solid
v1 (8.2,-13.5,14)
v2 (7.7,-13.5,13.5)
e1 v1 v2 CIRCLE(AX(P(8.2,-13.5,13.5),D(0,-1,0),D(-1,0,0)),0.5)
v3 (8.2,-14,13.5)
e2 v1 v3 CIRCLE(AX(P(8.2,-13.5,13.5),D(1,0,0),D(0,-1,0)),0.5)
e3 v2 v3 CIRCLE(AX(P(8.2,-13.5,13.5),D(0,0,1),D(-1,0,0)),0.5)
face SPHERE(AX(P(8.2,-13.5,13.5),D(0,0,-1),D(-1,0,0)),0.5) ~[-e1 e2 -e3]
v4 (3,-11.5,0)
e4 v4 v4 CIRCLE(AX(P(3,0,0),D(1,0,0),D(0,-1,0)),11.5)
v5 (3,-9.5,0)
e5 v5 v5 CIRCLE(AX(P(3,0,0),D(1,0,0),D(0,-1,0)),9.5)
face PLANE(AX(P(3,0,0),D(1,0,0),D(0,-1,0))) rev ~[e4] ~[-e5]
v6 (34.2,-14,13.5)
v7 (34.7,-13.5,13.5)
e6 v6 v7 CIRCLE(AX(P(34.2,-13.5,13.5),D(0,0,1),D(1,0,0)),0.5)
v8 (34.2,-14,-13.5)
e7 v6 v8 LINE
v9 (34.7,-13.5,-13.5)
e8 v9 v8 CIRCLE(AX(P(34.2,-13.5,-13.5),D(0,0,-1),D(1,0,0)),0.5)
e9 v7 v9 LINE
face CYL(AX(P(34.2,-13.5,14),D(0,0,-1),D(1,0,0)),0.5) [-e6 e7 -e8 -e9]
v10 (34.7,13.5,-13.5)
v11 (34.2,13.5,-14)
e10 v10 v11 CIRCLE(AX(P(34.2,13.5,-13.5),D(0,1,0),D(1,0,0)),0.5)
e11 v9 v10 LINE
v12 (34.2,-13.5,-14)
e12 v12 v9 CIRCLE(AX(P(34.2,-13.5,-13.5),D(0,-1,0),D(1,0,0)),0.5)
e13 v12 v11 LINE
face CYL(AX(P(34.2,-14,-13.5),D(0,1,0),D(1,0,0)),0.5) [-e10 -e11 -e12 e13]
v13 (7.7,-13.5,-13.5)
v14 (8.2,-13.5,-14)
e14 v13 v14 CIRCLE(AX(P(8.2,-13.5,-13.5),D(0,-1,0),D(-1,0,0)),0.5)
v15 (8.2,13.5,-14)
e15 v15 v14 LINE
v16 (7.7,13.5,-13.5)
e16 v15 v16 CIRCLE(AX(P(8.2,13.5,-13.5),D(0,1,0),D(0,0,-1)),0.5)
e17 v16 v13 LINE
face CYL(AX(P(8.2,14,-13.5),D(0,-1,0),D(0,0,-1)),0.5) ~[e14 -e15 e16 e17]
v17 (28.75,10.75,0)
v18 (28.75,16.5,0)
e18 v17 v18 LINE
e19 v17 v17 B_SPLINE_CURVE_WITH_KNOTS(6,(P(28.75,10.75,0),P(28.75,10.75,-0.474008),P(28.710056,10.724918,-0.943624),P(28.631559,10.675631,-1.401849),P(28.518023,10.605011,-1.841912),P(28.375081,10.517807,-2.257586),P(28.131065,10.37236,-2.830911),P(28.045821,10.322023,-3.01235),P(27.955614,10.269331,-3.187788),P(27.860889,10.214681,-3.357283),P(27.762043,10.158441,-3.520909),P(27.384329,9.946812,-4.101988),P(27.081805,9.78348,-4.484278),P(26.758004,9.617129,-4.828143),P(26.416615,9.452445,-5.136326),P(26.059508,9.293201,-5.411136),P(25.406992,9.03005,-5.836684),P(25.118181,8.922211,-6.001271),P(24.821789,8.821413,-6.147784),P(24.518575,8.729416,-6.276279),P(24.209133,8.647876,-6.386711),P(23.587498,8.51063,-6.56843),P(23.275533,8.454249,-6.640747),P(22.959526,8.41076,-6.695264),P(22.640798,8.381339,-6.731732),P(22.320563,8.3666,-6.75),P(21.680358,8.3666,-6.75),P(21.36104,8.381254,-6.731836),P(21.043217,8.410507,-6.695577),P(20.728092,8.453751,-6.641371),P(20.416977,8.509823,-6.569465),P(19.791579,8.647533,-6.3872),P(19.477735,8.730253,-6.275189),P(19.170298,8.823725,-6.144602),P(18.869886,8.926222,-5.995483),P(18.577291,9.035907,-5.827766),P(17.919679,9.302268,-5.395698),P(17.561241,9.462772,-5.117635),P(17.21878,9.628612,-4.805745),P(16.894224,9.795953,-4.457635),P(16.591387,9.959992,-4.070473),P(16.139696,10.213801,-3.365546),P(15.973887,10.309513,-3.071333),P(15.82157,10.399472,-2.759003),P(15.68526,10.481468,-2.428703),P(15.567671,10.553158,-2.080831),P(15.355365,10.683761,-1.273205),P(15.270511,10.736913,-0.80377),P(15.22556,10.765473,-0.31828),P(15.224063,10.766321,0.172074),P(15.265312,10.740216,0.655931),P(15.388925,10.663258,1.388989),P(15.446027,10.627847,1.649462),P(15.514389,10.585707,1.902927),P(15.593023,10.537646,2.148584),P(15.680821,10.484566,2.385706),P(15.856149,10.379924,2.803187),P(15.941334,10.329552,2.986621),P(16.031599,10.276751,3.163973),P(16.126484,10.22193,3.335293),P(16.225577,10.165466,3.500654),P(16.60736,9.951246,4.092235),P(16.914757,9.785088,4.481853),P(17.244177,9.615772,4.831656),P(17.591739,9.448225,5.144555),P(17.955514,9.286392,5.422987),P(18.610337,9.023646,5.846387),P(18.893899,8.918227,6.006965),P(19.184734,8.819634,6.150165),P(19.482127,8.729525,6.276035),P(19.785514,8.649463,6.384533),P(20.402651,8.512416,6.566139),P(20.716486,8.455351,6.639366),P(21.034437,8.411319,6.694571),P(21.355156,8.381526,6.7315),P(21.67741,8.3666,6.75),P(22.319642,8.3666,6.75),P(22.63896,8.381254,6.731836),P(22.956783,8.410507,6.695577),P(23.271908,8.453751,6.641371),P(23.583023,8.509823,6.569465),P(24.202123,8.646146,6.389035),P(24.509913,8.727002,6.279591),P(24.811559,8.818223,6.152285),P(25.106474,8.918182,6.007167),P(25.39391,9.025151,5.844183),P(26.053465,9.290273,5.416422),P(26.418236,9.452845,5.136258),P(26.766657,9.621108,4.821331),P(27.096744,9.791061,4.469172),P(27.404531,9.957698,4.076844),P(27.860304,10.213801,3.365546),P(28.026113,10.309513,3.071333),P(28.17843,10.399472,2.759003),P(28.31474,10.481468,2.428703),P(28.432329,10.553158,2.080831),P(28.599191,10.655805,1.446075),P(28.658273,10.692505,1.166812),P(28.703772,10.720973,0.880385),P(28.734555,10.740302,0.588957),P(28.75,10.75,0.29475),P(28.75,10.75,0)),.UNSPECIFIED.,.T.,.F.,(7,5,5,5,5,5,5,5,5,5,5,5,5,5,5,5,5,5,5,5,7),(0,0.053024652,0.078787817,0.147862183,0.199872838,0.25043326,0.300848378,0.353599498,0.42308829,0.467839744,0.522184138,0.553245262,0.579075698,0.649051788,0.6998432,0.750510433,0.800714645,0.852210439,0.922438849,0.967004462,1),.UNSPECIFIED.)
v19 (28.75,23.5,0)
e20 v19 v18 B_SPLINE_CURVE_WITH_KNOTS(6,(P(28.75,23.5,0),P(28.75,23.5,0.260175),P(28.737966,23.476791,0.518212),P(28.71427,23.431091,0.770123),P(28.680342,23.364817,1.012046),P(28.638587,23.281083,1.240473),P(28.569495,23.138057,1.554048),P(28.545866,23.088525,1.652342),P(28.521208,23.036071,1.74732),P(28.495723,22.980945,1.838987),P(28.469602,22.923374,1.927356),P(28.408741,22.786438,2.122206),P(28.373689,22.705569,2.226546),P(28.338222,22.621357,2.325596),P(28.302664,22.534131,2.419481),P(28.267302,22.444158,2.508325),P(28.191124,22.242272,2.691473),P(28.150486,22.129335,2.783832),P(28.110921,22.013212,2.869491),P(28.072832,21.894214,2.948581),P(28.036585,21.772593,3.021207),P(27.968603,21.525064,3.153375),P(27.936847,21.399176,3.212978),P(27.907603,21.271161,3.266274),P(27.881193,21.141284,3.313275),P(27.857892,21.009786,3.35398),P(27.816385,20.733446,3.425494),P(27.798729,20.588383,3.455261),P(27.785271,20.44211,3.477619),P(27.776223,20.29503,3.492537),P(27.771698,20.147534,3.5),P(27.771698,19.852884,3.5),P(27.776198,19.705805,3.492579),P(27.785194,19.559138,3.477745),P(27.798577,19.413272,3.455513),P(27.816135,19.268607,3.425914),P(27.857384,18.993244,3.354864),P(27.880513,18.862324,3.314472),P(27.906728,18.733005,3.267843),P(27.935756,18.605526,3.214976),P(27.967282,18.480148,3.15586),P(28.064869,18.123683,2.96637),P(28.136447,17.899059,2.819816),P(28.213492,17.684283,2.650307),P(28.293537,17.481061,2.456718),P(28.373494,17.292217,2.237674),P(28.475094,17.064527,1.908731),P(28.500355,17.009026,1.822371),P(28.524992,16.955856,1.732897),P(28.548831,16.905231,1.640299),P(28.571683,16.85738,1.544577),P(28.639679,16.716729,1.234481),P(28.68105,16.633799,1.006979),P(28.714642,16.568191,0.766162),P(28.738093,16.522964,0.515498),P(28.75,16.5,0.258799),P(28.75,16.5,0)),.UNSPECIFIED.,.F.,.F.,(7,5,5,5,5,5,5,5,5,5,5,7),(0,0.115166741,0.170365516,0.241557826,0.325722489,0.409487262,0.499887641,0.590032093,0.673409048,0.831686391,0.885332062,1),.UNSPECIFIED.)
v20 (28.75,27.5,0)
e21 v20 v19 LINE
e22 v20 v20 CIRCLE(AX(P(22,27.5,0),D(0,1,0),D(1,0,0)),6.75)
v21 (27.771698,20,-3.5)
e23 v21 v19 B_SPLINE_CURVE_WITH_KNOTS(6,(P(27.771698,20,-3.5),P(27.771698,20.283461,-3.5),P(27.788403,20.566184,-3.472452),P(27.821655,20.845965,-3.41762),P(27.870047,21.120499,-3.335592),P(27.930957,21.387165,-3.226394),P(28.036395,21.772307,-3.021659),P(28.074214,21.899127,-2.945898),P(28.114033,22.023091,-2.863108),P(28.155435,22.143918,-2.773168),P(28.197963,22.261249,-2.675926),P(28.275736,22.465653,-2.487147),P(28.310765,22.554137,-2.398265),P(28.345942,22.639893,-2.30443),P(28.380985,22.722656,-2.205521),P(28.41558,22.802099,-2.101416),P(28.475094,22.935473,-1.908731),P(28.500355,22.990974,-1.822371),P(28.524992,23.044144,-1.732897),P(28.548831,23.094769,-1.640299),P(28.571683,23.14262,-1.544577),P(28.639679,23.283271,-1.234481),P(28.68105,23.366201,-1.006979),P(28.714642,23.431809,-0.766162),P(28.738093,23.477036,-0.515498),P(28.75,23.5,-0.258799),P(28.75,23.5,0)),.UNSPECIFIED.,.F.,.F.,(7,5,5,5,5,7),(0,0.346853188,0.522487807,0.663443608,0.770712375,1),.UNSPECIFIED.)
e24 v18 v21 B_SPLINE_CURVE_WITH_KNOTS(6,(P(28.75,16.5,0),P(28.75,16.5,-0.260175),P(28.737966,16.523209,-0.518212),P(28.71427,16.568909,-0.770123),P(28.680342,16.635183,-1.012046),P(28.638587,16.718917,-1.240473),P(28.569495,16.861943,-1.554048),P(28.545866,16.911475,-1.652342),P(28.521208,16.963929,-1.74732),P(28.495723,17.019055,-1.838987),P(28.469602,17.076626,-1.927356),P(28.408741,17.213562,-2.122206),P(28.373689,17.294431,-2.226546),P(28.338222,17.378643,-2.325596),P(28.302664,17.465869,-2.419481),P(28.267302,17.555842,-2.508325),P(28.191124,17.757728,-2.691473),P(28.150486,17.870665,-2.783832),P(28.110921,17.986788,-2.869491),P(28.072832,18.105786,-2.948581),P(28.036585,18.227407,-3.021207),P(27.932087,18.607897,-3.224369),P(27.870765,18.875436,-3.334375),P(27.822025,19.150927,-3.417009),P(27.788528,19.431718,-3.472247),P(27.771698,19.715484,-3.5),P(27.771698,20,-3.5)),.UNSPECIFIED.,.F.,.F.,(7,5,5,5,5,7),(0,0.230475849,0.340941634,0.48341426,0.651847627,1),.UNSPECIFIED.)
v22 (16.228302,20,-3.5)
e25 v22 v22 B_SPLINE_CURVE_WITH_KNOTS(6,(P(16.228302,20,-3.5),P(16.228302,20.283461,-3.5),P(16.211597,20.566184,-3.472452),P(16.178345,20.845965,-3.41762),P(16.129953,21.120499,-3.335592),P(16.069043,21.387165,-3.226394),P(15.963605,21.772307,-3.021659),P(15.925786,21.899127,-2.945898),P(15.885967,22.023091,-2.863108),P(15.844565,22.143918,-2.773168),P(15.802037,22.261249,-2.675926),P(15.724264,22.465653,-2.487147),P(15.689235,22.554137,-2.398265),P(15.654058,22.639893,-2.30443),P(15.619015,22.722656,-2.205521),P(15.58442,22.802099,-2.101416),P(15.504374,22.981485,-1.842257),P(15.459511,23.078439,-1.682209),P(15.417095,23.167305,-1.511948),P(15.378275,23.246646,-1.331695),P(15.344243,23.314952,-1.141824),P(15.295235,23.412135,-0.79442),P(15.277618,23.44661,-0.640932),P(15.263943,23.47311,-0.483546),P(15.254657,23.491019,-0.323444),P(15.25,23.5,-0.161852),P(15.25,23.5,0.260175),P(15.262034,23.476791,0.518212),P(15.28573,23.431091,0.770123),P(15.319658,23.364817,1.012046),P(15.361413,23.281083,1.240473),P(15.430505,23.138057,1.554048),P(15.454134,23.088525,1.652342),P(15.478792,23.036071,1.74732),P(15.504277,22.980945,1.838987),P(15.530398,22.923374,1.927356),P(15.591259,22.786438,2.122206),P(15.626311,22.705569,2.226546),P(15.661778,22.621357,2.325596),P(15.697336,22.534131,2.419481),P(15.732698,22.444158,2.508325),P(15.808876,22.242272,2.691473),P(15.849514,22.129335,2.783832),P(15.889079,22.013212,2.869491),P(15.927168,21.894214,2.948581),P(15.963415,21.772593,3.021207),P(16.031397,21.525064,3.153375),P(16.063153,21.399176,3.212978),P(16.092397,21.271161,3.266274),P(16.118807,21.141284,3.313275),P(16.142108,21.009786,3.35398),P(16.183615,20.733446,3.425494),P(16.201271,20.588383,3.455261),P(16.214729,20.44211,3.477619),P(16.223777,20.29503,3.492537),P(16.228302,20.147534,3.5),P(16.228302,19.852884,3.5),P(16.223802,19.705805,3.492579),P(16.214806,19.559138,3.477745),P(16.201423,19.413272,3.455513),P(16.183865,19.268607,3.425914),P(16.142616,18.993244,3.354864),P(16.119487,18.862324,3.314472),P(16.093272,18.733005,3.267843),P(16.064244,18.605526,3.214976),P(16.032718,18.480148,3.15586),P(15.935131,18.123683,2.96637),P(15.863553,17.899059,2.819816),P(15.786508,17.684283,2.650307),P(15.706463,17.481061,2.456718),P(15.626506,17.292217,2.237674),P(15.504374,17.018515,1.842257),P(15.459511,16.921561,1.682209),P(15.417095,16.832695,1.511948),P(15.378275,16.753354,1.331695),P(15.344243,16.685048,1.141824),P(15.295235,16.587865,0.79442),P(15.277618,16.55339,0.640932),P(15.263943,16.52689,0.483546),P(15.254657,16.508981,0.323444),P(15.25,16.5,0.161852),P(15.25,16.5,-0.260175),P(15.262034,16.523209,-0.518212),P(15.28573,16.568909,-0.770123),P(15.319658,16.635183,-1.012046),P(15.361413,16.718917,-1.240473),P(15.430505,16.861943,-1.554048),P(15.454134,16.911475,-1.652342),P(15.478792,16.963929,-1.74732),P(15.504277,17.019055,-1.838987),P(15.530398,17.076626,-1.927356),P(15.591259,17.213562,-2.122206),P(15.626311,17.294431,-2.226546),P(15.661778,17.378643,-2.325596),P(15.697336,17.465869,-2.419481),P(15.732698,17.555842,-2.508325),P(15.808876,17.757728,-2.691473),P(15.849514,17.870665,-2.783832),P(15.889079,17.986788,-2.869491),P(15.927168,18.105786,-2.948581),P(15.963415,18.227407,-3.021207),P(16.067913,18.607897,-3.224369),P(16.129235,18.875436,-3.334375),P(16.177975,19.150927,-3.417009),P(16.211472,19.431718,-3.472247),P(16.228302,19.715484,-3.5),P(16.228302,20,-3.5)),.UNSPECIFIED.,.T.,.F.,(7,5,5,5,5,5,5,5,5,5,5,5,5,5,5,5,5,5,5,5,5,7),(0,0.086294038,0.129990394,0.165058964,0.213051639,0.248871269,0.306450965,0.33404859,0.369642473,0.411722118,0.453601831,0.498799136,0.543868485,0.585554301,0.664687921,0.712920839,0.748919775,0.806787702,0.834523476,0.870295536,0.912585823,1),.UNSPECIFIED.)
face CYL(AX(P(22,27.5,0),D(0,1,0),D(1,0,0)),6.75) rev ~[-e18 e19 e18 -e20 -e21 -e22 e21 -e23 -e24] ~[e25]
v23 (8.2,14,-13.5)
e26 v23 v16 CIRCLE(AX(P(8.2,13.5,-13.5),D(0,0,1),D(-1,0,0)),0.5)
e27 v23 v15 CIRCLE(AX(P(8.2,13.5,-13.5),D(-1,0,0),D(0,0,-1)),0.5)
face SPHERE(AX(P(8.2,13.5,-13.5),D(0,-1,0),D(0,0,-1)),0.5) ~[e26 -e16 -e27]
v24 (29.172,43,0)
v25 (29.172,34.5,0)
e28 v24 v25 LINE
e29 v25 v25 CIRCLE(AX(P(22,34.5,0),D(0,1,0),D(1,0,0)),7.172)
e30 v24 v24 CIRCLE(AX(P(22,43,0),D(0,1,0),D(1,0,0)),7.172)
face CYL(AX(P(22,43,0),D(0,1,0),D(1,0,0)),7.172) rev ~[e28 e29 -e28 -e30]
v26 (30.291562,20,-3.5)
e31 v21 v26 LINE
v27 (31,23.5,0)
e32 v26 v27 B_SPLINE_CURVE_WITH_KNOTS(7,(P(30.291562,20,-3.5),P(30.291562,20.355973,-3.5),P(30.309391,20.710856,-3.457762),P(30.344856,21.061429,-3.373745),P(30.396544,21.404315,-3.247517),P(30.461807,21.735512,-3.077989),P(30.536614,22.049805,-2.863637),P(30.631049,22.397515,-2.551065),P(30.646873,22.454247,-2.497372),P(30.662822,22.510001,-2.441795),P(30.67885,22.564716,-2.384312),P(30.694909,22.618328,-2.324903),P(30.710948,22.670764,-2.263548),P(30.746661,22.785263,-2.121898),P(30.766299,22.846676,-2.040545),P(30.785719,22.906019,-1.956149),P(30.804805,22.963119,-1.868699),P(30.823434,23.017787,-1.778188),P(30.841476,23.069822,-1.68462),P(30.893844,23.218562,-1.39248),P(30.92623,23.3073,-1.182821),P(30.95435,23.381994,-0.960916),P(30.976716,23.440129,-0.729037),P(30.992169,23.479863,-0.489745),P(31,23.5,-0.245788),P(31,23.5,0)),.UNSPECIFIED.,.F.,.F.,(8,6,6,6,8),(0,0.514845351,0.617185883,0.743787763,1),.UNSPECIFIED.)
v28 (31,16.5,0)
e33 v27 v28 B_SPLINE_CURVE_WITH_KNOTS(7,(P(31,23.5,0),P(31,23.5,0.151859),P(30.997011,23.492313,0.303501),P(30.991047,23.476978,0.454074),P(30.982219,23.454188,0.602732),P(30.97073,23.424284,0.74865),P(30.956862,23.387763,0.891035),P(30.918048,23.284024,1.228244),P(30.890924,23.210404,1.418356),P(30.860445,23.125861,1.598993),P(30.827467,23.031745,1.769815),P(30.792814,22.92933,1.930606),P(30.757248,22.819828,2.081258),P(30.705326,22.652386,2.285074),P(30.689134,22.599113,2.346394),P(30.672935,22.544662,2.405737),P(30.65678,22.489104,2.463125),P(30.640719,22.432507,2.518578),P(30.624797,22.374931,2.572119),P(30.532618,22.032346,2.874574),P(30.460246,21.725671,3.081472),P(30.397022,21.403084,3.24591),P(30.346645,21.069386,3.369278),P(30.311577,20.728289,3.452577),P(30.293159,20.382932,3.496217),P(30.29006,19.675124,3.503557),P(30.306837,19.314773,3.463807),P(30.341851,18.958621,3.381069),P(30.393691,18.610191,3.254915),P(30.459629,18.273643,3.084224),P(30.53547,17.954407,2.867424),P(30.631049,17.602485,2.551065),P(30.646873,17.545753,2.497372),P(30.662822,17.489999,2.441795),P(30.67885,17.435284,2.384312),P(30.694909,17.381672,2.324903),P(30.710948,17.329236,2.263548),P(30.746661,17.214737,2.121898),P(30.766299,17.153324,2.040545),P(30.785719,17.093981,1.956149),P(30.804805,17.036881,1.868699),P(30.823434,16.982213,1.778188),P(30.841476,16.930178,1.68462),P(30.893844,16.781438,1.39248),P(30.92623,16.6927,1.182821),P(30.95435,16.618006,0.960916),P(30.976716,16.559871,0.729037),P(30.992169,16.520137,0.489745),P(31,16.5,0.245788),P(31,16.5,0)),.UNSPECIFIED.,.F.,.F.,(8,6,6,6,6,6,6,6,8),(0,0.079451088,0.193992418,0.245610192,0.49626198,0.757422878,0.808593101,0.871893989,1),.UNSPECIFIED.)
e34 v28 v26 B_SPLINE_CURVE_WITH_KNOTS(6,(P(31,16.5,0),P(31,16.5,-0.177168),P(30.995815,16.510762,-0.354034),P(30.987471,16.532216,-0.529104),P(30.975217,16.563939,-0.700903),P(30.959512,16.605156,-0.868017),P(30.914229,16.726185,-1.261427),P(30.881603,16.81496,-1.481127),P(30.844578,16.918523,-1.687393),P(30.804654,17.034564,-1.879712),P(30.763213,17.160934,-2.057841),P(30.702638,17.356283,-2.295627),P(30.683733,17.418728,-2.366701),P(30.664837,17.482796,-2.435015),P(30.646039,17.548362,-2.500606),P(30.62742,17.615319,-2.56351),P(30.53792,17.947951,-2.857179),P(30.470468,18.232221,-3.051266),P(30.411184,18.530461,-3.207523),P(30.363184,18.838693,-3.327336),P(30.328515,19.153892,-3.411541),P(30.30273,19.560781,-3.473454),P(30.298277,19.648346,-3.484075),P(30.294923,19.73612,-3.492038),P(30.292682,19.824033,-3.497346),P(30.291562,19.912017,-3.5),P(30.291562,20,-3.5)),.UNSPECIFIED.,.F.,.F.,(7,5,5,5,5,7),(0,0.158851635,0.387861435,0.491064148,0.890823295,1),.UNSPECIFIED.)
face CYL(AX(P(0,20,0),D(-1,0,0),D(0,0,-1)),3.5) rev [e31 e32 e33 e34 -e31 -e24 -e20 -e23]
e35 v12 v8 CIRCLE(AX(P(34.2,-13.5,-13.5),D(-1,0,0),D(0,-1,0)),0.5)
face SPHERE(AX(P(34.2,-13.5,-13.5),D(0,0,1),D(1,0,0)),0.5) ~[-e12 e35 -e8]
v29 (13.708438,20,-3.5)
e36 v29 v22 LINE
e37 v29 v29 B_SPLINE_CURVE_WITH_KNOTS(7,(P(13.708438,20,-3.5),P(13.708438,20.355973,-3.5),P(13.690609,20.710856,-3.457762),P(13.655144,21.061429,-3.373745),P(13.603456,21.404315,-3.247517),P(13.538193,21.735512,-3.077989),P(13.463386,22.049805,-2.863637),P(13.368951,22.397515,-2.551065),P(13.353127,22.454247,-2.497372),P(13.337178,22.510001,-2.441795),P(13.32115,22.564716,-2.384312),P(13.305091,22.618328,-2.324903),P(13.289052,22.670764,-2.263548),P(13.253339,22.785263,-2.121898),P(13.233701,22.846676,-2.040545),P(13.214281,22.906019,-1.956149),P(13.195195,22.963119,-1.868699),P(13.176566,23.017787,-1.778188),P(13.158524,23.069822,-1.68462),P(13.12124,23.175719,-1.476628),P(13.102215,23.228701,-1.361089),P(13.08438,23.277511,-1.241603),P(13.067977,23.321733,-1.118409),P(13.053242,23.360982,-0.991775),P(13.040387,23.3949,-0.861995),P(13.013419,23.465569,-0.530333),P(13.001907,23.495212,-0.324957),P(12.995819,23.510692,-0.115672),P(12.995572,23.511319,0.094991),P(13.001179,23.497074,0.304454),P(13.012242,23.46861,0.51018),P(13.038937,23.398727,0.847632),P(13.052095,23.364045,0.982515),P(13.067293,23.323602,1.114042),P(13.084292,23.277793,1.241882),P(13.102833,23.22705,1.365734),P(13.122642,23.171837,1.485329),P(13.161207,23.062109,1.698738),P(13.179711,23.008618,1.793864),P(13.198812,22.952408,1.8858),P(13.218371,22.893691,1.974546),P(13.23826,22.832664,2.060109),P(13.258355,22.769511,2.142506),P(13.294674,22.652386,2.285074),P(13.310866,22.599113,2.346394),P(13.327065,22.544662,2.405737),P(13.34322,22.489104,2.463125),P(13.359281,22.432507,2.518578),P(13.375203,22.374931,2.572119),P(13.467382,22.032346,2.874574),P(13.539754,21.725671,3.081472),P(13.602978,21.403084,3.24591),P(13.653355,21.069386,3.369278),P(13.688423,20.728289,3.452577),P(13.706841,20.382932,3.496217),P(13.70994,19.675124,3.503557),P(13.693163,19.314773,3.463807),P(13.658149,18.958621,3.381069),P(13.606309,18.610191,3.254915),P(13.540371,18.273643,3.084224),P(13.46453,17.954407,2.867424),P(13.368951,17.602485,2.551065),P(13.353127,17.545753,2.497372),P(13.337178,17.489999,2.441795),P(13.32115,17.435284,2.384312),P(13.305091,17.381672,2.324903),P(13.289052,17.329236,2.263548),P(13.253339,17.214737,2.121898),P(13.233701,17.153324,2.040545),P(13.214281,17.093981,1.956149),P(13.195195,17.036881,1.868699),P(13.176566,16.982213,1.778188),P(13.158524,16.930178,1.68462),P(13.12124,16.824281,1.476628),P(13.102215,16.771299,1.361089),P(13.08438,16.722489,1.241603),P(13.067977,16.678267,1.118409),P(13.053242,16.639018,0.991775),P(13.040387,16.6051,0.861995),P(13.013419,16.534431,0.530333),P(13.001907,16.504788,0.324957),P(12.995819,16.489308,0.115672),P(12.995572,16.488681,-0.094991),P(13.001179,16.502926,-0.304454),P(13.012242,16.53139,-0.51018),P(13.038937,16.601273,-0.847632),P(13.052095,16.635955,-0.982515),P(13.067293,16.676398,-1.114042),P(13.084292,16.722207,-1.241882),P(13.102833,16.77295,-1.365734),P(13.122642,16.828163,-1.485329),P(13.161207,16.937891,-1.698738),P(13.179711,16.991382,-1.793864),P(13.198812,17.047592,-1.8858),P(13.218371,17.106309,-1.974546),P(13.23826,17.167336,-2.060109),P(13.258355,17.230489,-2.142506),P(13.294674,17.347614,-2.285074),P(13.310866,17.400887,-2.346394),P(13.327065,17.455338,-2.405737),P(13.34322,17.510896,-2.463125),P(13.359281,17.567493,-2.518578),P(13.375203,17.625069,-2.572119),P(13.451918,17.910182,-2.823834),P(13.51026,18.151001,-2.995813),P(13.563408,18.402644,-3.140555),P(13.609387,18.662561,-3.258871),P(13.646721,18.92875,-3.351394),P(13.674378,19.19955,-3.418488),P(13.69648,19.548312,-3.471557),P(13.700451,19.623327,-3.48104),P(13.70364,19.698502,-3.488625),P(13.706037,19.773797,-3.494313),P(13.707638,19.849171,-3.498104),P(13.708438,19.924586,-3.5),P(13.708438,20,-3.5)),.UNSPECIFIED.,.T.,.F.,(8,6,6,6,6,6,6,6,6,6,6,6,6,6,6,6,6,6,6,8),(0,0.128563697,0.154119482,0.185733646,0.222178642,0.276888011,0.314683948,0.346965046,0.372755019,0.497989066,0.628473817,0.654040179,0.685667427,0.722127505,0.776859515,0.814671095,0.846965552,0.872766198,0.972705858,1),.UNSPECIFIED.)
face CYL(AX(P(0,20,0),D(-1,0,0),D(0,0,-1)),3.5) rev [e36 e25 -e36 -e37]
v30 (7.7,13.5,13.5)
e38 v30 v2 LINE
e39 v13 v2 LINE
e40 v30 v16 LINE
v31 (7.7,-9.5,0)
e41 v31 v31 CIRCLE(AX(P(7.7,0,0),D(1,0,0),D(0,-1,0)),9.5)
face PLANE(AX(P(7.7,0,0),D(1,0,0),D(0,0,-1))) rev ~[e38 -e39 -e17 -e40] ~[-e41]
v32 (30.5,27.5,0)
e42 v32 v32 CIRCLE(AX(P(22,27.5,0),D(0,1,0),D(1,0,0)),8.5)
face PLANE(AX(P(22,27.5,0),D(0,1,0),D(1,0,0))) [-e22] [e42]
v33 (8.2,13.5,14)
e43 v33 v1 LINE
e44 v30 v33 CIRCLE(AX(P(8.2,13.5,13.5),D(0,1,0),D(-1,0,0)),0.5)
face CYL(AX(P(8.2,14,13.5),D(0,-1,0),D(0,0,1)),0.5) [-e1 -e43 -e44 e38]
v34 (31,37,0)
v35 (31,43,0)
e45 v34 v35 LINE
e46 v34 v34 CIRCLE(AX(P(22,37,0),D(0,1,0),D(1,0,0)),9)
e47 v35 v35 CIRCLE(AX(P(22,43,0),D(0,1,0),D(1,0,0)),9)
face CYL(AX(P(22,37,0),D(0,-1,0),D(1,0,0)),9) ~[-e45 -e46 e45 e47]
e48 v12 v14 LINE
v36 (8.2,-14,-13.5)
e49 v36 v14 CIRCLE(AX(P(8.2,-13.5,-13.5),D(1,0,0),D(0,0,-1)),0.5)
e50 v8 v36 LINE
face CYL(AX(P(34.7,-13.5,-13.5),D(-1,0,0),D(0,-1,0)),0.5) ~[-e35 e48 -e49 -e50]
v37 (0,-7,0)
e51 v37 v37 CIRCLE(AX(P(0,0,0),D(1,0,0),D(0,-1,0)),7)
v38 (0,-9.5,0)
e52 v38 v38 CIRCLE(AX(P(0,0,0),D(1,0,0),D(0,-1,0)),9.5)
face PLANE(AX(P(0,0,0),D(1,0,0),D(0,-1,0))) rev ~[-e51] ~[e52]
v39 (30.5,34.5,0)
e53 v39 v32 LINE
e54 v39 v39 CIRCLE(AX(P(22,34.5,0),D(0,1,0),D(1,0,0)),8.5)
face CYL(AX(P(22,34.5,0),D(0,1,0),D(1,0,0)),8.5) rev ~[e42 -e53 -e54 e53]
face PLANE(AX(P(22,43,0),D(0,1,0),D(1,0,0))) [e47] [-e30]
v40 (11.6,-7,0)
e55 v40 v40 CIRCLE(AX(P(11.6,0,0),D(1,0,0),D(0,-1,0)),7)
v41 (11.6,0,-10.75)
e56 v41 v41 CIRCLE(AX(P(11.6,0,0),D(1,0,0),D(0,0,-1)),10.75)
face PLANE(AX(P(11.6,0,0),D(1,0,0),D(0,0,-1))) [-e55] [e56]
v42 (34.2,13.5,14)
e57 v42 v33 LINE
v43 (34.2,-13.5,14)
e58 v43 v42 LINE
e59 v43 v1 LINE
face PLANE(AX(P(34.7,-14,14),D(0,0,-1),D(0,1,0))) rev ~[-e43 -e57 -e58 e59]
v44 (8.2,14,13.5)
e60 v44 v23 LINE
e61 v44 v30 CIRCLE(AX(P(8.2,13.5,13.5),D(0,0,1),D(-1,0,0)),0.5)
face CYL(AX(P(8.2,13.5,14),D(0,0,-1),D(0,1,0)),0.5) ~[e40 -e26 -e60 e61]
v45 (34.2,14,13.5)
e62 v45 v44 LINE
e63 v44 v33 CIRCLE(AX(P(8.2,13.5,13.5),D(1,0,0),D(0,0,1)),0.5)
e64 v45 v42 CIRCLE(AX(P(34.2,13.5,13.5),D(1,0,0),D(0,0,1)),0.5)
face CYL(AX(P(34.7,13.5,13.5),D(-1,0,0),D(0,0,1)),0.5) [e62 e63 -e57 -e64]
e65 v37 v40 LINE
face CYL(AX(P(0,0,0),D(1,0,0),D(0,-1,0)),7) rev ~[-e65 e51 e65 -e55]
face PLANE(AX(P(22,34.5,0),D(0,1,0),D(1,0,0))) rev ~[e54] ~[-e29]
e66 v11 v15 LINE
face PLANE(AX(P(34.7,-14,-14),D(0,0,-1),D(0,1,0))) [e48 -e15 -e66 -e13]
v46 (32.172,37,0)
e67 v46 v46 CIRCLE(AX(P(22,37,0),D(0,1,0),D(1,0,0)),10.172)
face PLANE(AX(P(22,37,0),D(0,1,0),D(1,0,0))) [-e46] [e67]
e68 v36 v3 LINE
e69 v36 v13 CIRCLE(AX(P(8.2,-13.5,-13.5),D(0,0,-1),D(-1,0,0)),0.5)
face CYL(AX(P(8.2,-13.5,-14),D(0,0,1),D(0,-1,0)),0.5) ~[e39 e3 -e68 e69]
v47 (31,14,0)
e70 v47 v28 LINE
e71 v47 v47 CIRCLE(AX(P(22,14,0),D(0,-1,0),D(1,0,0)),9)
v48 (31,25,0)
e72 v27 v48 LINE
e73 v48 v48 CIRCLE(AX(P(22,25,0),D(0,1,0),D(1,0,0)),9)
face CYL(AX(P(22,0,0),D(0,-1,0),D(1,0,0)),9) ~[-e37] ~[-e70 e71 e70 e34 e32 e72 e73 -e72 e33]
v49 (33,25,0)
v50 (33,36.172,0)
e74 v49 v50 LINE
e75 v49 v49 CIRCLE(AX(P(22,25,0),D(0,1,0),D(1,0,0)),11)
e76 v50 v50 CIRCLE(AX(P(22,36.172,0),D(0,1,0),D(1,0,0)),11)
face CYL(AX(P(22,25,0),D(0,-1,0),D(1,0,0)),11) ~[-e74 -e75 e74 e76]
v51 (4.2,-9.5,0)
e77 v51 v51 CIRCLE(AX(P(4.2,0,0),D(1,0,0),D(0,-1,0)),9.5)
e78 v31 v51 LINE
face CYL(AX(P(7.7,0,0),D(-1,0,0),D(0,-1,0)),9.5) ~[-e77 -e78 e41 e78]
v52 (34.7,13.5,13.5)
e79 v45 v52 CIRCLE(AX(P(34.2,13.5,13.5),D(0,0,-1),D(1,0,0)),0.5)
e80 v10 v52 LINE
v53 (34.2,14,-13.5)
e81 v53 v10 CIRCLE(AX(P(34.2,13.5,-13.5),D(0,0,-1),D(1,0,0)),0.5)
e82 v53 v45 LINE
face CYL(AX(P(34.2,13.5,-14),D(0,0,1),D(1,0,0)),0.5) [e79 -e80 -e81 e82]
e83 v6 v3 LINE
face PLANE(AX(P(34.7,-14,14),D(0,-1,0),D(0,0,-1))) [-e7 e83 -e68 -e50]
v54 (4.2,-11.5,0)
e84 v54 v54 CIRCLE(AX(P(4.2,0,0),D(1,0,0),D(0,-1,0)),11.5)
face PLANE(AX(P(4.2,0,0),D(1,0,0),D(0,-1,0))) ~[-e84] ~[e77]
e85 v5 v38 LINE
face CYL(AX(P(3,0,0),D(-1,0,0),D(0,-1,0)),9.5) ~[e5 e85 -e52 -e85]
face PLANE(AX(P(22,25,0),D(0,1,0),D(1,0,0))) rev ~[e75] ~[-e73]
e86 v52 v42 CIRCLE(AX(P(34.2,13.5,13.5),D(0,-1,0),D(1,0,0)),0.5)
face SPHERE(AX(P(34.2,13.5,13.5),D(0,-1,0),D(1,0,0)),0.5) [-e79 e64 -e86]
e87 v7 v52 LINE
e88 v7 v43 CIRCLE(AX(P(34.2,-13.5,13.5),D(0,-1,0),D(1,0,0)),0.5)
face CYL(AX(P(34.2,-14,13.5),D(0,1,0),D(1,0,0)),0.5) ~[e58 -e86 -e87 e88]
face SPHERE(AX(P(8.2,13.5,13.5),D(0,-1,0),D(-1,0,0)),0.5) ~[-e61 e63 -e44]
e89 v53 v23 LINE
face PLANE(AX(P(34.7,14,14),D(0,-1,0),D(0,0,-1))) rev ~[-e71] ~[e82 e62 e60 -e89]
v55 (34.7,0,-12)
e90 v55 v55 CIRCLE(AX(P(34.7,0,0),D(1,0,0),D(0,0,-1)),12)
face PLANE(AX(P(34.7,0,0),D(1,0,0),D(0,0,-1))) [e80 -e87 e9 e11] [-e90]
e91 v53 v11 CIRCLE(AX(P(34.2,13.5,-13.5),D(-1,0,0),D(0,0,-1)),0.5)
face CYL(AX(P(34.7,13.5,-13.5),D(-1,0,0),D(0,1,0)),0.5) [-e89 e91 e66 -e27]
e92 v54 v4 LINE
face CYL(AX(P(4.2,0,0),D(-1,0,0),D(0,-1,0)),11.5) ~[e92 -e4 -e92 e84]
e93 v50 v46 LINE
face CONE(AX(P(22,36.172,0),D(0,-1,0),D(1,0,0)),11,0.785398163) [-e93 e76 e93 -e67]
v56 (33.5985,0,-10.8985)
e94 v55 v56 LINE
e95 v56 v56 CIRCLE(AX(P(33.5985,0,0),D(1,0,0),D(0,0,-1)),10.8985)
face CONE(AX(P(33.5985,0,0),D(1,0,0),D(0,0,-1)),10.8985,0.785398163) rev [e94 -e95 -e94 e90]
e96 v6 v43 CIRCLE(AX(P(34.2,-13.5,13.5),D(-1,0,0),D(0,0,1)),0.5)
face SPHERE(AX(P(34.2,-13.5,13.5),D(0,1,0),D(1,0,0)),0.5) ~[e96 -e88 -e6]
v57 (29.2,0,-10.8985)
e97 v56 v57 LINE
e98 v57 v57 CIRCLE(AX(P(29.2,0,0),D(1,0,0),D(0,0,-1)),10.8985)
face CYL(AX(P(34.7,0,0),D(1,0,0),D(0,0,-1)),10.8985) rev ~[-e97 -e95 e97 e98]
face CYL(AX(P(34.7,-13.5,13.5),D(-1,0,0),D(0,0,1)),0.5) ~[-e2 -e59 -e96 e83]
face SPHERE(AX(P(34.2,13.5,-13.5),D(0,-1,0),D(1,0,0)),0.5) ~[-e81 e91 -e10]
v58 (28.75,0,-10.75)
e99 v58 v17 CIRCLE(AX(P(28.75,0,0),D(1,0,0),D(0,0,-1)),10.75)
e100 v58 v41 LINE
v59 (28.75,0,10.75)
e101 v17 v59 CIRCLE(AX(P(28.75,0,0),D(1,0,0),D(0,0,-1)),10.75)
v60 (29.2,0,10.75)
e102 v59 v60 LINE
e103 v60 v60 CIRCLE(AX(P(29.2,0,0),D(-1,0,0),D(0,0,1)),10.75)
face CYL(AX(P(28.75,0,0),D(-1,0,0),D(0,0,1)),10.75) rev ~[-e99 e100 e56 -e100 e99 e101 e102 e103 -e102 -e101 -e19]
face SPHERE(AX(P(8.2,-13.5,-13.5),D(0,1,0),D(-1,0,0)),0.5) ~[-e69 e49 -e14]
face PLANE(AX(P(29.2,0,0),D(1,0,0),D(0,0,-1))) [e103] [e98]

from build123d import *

# Parameters (mm, degrees)
SKETCH_2_R           = 9
EXTRUDE_1_DEPTH      = 25
SKETCH_3_R           = 11
EXTRUDE_2_DEPTH      = 12
SKETCH_4_R           = 9
EXTRUDE_3_DEPTH      = 6
SKETCH_5_R           = 10.75
CUT_EXTRUDE_1_DEPTH  = 23.1
CUT_EXTRUDE_START    = -8.5
SKETCH_6_R           = 8.5
CUT_EXTRUDE_2_DEPTH  = 7
CUT_EXTRUDE_3_REACH  = 43.5
SKETCH_8_R           = 6.75
SKETCH_9_R           = 3.5
CUT_EXTRUDE_4_DEPTH  = 35.7000001
SKETCH_10_R          = 10.75
EXTRUDE_4_DEPTH      = 5.95
CHAMFER_1_SIZE       = 0.828
SKETCH_12_W          = 28
SKETCH_12_H          = 28
SKETCH_12_R          = 13
EXTRUDE_5_DEPTH      = 27
CUT_EXTRUDE_5_REACH  = 30
SKETCH_13_R          = 6.75
CUT_EXTRUDE_6_REACH  = 59
SKETCH_14_R          = 7.172
SKETCH_16_R          = 10.8985
CUT_EXTRUDE_7_DEPTH  = 5.5
CHAMFER_3_SIZE       = 1.1015
CUT_EXTRUDE_11_REACH = 7.95
SKETCH_18_R          = 10.75
FILLET_1_R           = 0.5


with BuildPart() as part:
    # Эскиз1 → Повернуть1 (revolve)
    with BuildSketch(Plane.XY):
        Polygon((0, -7), (11.6, -7), (11.6, 0), (34.7, 0), (34.7, -10.5), (34.7, -14), (7.7, -14), (7.7, -9.5), (4.2, -9.5), (4.2, -11.5), (3, -11.5), (3, -9.5), (0, -9.5), align=None)
    revolve(axis=Axis((0, 0, 0), (1, 0, 0)))

    # Эскиз2 → Бобышка-Вытянуть1 (add)
    with BuildSketch(Plane(origin=(0, 0, 0), x_dir=(1, 0, 0), z_dir=(0, 1, 0))):
        with Locations((22, 0)):
            Circle(SKETCH_2_R)
    extrude(amount=EXTRUDE_1_DEPTH)

    # Эскиз3 → Бобышка-Вытянуть2 (add)
    with BuildSketch(Plane(origin=(0, 25, 0), x_dir=(1, 0, 0), z_dir=(0, 1, 0))):
        with Locations((22, 0)):
            Circle(SKETCH_3_R)
    extrude(amount=EXTRUDE_2_DEPTH)

    # Эскиз4 → Бобышка-Вытянуть3 (add)
    with BuildSketch(Plane(origin=(0, 37, 0), x_dir=(1, 0, 0), z_dir=(0, 1, 0))):
        with Locations((22, 0)):
            Circle(SKETCH_4_R)
    extrude(amount=EXTRUDE_3_DEPTH)

    # Эскиз5 → Вырез-Вытянуть1 (cut)
    with BuildSketch(Plane(origin=(34.7, 0, 0), x_dir=(0, 0, -1), z_dir=(1, 0, 0))):
        Circle(SKETCH_5_R)
    extrude(amount=-CUT_EXTRUDE_1_DEPTH, mode=Mode.SUBTRACT)

    # Эскиз6 → Вырез-Вытянуть2 (cut)
    with BuildSketch(Plane(origin=(0, 43, 0), x_dir=(1, 0, 0), z_dir=(0, 1, 0)).offset(CUT_EXTRUDE_START)):
        with Locations((22, 0)):
            Circle(SKETCH_6_R)
    extrude(amount=-CUT_EXTRUDE_2_DEPTH, mode=Mode.SUBTRACT)

    # Эскиз8 → Вырез-Вытянуть3 (cut, up to next)
    with BuildSketch(Plane(origin=(0, 27.5, 0), x_dir=(1, 0, 0), z_dir=(0, 1, 0)), mode=Mode.PRIVATE) as cut_extrude_3_sk1:
        with Locations((22, 0)):
            Circle(SKETCH_8_R)
    cut_extrude_3_tool1 = extrude(cut_extrude_3_sk1.sketch, amount=-CUT_EXTRUDE_3_REACH, mode=Mode.PRIVATE) & part.part
    add(cut_extrude_3_tool1.solids().sort_by_distance((22, 27.5, 0))[0], mode=Mode.SUBTRACT)

    # Эскиз9 → Вырез-Вытянуть4 (cut, through all)
    with BuildSketch(Plane(origin=(0, 0, 0), x_dir=(0, 0, -1), z_dir=(1, 0, 0))):
        with Locations((0, 20)):
            Circle(SKETCH_9_R)
    extrude(amount=CUT_EXTRUDE_4_DEPTH, mode=Mode.SUBTRACT)

    # Эскиз10 → Бобышка-Вытянуть4 (add)
    with BuildSketch(Plane(origin=(34.7, 0, 0), x_dir=(0, 0, -1), z_dir=(1, 0, 0))):
        Circle(SKETCH_10_R)
    extrude(amount=-EXTRUDE_4_DEPTH)

    # Фаска1
    chamfer_1_edges = [part.edges().sort_by_distance(p)[0] for p in [
        (11, 37, 0),
    ]]
    chamfer(chamfer_1_edges, length=CHAMFER_1_SIZE)

    # Эскиз12 → Бобышка-Вытянуть5 (add)
    with BuildSketch(Plane(origin=(34.7, 0, 0), x_dir=(0, 0, -1), z_dir=(1, 0, 0))):
        Rectangle(SKETCH_12_W, SKETCH_12_H)
        Circle(SKETCH_12_R, mode=Mode.SUBTRACT)
    extrude(amount=-EXTRUDE_5_DEPTH)

    # Эскиз13 → Вырез-Вытянуть5 (cut, up to next)
    with BuildSketch(Plane(origin=(0, 14, 0), x_dir=(1, 0, 0), z_dir=(0, 1, 0)), mode=Mode.PRIVATE) as cut_extrude_5_sk1:
        with Locations((22, 0)):
            Circle(SKETCH_13_R)
    cut_extrude_5_tool1 = extrude(cut_extrude_5_sk1.sketch, amount=-CUT_EXTRUDE_5_REACH, mode=Mode.PRIVATE) & part.part
    add(cut_extrude_5_tool1.solids().sort_by_distance((22, 14, 0))[0], mode=Mode.SUBTRACT)

    # Эскиз14 → Вырез-Вытянуть6 (cut, up to next)
    with BuildSketch(Plane(origin=(0, 43, 0), x_dir=(1, 0, 0), z_dir=(0, 1, 0)), mode=Mode.PRIVATE) as cut_extrude_6_sk1:
        with Locations((22, 0)):
            Circle(SKETCH_14_R)
    cut_extrude_6_tool1 = extrude(cut_extrude_6_sk1.sketch, amount=-CUT_EXTRUDE_6_REACH, mode=Mode.PRIVATE) & part.part
    add(cut_extrude_6_tool1.solids().sort_by_distance((22, 43, 0))[0], mode=Mode.SUBTRACT)

    # Эскиз16 → Вырез-Вытянуть7 (cut)
    with BuildSketch(Plane(origin=(34.7, 0, 0), x_dir=(0, 0, -1), z_dir=(1, 0, 0))):
        Circle(SKETCH_16_R)
    extrude(amount=-CUT_EXTRUDE_7_DEPTH, mode=Mode.SUBTRACT)

    # Фаска3
    chamfer_3_edges = [part.edges().sort_by_distance(p)[0] for p in [
        (34.7, 0, 10.8985),
    ]]
    chamfer(chamfer_3_edges, length=CHAMFER_3_SIZE)

    # Эскиз18 → Вырез-Вытянуть11 (cut, up to next)
    with BuildSketch(Plane.ZY.offset(-28.75), mode=Mode.PRIVATE) as cut_extrude_11_sk1:
        Circle(SKETCH_18_R)
    cut_extrude_11_tool1 = extrude(cut_extrude_11_sk1.sketch, amount=-CUT_EXTRUDE_11_REACH, mode=Mode.PRIVATE) & part.part
    add(cut_extrude_11_tool1.solids().sort_by_distance((28.75, 0, 0))[0], mode=Mode.SUBTRACT)

    # Скругление1
    fillet_1_edges = [part.edges().sort_by_distance(p)[0] for p in [
        (34.7, 0, 14),
        (34.7, -14, 0),
        (34.7, 0, -14),
        (34.7, 14, 0),
        (7.7, 0, -14),
        (21.2, 14, -14),
        (7.7, -14, 0),
        (21.2, -14, -14),
        (7.7, 0, 14),
        (21.2, -14, 14),
        (7.7, 14, 0),
        (21.2, 14, 14),
    ]]
    fillet(fillet_1_edges, radius=FILLET_1_R)


solid = part.part
